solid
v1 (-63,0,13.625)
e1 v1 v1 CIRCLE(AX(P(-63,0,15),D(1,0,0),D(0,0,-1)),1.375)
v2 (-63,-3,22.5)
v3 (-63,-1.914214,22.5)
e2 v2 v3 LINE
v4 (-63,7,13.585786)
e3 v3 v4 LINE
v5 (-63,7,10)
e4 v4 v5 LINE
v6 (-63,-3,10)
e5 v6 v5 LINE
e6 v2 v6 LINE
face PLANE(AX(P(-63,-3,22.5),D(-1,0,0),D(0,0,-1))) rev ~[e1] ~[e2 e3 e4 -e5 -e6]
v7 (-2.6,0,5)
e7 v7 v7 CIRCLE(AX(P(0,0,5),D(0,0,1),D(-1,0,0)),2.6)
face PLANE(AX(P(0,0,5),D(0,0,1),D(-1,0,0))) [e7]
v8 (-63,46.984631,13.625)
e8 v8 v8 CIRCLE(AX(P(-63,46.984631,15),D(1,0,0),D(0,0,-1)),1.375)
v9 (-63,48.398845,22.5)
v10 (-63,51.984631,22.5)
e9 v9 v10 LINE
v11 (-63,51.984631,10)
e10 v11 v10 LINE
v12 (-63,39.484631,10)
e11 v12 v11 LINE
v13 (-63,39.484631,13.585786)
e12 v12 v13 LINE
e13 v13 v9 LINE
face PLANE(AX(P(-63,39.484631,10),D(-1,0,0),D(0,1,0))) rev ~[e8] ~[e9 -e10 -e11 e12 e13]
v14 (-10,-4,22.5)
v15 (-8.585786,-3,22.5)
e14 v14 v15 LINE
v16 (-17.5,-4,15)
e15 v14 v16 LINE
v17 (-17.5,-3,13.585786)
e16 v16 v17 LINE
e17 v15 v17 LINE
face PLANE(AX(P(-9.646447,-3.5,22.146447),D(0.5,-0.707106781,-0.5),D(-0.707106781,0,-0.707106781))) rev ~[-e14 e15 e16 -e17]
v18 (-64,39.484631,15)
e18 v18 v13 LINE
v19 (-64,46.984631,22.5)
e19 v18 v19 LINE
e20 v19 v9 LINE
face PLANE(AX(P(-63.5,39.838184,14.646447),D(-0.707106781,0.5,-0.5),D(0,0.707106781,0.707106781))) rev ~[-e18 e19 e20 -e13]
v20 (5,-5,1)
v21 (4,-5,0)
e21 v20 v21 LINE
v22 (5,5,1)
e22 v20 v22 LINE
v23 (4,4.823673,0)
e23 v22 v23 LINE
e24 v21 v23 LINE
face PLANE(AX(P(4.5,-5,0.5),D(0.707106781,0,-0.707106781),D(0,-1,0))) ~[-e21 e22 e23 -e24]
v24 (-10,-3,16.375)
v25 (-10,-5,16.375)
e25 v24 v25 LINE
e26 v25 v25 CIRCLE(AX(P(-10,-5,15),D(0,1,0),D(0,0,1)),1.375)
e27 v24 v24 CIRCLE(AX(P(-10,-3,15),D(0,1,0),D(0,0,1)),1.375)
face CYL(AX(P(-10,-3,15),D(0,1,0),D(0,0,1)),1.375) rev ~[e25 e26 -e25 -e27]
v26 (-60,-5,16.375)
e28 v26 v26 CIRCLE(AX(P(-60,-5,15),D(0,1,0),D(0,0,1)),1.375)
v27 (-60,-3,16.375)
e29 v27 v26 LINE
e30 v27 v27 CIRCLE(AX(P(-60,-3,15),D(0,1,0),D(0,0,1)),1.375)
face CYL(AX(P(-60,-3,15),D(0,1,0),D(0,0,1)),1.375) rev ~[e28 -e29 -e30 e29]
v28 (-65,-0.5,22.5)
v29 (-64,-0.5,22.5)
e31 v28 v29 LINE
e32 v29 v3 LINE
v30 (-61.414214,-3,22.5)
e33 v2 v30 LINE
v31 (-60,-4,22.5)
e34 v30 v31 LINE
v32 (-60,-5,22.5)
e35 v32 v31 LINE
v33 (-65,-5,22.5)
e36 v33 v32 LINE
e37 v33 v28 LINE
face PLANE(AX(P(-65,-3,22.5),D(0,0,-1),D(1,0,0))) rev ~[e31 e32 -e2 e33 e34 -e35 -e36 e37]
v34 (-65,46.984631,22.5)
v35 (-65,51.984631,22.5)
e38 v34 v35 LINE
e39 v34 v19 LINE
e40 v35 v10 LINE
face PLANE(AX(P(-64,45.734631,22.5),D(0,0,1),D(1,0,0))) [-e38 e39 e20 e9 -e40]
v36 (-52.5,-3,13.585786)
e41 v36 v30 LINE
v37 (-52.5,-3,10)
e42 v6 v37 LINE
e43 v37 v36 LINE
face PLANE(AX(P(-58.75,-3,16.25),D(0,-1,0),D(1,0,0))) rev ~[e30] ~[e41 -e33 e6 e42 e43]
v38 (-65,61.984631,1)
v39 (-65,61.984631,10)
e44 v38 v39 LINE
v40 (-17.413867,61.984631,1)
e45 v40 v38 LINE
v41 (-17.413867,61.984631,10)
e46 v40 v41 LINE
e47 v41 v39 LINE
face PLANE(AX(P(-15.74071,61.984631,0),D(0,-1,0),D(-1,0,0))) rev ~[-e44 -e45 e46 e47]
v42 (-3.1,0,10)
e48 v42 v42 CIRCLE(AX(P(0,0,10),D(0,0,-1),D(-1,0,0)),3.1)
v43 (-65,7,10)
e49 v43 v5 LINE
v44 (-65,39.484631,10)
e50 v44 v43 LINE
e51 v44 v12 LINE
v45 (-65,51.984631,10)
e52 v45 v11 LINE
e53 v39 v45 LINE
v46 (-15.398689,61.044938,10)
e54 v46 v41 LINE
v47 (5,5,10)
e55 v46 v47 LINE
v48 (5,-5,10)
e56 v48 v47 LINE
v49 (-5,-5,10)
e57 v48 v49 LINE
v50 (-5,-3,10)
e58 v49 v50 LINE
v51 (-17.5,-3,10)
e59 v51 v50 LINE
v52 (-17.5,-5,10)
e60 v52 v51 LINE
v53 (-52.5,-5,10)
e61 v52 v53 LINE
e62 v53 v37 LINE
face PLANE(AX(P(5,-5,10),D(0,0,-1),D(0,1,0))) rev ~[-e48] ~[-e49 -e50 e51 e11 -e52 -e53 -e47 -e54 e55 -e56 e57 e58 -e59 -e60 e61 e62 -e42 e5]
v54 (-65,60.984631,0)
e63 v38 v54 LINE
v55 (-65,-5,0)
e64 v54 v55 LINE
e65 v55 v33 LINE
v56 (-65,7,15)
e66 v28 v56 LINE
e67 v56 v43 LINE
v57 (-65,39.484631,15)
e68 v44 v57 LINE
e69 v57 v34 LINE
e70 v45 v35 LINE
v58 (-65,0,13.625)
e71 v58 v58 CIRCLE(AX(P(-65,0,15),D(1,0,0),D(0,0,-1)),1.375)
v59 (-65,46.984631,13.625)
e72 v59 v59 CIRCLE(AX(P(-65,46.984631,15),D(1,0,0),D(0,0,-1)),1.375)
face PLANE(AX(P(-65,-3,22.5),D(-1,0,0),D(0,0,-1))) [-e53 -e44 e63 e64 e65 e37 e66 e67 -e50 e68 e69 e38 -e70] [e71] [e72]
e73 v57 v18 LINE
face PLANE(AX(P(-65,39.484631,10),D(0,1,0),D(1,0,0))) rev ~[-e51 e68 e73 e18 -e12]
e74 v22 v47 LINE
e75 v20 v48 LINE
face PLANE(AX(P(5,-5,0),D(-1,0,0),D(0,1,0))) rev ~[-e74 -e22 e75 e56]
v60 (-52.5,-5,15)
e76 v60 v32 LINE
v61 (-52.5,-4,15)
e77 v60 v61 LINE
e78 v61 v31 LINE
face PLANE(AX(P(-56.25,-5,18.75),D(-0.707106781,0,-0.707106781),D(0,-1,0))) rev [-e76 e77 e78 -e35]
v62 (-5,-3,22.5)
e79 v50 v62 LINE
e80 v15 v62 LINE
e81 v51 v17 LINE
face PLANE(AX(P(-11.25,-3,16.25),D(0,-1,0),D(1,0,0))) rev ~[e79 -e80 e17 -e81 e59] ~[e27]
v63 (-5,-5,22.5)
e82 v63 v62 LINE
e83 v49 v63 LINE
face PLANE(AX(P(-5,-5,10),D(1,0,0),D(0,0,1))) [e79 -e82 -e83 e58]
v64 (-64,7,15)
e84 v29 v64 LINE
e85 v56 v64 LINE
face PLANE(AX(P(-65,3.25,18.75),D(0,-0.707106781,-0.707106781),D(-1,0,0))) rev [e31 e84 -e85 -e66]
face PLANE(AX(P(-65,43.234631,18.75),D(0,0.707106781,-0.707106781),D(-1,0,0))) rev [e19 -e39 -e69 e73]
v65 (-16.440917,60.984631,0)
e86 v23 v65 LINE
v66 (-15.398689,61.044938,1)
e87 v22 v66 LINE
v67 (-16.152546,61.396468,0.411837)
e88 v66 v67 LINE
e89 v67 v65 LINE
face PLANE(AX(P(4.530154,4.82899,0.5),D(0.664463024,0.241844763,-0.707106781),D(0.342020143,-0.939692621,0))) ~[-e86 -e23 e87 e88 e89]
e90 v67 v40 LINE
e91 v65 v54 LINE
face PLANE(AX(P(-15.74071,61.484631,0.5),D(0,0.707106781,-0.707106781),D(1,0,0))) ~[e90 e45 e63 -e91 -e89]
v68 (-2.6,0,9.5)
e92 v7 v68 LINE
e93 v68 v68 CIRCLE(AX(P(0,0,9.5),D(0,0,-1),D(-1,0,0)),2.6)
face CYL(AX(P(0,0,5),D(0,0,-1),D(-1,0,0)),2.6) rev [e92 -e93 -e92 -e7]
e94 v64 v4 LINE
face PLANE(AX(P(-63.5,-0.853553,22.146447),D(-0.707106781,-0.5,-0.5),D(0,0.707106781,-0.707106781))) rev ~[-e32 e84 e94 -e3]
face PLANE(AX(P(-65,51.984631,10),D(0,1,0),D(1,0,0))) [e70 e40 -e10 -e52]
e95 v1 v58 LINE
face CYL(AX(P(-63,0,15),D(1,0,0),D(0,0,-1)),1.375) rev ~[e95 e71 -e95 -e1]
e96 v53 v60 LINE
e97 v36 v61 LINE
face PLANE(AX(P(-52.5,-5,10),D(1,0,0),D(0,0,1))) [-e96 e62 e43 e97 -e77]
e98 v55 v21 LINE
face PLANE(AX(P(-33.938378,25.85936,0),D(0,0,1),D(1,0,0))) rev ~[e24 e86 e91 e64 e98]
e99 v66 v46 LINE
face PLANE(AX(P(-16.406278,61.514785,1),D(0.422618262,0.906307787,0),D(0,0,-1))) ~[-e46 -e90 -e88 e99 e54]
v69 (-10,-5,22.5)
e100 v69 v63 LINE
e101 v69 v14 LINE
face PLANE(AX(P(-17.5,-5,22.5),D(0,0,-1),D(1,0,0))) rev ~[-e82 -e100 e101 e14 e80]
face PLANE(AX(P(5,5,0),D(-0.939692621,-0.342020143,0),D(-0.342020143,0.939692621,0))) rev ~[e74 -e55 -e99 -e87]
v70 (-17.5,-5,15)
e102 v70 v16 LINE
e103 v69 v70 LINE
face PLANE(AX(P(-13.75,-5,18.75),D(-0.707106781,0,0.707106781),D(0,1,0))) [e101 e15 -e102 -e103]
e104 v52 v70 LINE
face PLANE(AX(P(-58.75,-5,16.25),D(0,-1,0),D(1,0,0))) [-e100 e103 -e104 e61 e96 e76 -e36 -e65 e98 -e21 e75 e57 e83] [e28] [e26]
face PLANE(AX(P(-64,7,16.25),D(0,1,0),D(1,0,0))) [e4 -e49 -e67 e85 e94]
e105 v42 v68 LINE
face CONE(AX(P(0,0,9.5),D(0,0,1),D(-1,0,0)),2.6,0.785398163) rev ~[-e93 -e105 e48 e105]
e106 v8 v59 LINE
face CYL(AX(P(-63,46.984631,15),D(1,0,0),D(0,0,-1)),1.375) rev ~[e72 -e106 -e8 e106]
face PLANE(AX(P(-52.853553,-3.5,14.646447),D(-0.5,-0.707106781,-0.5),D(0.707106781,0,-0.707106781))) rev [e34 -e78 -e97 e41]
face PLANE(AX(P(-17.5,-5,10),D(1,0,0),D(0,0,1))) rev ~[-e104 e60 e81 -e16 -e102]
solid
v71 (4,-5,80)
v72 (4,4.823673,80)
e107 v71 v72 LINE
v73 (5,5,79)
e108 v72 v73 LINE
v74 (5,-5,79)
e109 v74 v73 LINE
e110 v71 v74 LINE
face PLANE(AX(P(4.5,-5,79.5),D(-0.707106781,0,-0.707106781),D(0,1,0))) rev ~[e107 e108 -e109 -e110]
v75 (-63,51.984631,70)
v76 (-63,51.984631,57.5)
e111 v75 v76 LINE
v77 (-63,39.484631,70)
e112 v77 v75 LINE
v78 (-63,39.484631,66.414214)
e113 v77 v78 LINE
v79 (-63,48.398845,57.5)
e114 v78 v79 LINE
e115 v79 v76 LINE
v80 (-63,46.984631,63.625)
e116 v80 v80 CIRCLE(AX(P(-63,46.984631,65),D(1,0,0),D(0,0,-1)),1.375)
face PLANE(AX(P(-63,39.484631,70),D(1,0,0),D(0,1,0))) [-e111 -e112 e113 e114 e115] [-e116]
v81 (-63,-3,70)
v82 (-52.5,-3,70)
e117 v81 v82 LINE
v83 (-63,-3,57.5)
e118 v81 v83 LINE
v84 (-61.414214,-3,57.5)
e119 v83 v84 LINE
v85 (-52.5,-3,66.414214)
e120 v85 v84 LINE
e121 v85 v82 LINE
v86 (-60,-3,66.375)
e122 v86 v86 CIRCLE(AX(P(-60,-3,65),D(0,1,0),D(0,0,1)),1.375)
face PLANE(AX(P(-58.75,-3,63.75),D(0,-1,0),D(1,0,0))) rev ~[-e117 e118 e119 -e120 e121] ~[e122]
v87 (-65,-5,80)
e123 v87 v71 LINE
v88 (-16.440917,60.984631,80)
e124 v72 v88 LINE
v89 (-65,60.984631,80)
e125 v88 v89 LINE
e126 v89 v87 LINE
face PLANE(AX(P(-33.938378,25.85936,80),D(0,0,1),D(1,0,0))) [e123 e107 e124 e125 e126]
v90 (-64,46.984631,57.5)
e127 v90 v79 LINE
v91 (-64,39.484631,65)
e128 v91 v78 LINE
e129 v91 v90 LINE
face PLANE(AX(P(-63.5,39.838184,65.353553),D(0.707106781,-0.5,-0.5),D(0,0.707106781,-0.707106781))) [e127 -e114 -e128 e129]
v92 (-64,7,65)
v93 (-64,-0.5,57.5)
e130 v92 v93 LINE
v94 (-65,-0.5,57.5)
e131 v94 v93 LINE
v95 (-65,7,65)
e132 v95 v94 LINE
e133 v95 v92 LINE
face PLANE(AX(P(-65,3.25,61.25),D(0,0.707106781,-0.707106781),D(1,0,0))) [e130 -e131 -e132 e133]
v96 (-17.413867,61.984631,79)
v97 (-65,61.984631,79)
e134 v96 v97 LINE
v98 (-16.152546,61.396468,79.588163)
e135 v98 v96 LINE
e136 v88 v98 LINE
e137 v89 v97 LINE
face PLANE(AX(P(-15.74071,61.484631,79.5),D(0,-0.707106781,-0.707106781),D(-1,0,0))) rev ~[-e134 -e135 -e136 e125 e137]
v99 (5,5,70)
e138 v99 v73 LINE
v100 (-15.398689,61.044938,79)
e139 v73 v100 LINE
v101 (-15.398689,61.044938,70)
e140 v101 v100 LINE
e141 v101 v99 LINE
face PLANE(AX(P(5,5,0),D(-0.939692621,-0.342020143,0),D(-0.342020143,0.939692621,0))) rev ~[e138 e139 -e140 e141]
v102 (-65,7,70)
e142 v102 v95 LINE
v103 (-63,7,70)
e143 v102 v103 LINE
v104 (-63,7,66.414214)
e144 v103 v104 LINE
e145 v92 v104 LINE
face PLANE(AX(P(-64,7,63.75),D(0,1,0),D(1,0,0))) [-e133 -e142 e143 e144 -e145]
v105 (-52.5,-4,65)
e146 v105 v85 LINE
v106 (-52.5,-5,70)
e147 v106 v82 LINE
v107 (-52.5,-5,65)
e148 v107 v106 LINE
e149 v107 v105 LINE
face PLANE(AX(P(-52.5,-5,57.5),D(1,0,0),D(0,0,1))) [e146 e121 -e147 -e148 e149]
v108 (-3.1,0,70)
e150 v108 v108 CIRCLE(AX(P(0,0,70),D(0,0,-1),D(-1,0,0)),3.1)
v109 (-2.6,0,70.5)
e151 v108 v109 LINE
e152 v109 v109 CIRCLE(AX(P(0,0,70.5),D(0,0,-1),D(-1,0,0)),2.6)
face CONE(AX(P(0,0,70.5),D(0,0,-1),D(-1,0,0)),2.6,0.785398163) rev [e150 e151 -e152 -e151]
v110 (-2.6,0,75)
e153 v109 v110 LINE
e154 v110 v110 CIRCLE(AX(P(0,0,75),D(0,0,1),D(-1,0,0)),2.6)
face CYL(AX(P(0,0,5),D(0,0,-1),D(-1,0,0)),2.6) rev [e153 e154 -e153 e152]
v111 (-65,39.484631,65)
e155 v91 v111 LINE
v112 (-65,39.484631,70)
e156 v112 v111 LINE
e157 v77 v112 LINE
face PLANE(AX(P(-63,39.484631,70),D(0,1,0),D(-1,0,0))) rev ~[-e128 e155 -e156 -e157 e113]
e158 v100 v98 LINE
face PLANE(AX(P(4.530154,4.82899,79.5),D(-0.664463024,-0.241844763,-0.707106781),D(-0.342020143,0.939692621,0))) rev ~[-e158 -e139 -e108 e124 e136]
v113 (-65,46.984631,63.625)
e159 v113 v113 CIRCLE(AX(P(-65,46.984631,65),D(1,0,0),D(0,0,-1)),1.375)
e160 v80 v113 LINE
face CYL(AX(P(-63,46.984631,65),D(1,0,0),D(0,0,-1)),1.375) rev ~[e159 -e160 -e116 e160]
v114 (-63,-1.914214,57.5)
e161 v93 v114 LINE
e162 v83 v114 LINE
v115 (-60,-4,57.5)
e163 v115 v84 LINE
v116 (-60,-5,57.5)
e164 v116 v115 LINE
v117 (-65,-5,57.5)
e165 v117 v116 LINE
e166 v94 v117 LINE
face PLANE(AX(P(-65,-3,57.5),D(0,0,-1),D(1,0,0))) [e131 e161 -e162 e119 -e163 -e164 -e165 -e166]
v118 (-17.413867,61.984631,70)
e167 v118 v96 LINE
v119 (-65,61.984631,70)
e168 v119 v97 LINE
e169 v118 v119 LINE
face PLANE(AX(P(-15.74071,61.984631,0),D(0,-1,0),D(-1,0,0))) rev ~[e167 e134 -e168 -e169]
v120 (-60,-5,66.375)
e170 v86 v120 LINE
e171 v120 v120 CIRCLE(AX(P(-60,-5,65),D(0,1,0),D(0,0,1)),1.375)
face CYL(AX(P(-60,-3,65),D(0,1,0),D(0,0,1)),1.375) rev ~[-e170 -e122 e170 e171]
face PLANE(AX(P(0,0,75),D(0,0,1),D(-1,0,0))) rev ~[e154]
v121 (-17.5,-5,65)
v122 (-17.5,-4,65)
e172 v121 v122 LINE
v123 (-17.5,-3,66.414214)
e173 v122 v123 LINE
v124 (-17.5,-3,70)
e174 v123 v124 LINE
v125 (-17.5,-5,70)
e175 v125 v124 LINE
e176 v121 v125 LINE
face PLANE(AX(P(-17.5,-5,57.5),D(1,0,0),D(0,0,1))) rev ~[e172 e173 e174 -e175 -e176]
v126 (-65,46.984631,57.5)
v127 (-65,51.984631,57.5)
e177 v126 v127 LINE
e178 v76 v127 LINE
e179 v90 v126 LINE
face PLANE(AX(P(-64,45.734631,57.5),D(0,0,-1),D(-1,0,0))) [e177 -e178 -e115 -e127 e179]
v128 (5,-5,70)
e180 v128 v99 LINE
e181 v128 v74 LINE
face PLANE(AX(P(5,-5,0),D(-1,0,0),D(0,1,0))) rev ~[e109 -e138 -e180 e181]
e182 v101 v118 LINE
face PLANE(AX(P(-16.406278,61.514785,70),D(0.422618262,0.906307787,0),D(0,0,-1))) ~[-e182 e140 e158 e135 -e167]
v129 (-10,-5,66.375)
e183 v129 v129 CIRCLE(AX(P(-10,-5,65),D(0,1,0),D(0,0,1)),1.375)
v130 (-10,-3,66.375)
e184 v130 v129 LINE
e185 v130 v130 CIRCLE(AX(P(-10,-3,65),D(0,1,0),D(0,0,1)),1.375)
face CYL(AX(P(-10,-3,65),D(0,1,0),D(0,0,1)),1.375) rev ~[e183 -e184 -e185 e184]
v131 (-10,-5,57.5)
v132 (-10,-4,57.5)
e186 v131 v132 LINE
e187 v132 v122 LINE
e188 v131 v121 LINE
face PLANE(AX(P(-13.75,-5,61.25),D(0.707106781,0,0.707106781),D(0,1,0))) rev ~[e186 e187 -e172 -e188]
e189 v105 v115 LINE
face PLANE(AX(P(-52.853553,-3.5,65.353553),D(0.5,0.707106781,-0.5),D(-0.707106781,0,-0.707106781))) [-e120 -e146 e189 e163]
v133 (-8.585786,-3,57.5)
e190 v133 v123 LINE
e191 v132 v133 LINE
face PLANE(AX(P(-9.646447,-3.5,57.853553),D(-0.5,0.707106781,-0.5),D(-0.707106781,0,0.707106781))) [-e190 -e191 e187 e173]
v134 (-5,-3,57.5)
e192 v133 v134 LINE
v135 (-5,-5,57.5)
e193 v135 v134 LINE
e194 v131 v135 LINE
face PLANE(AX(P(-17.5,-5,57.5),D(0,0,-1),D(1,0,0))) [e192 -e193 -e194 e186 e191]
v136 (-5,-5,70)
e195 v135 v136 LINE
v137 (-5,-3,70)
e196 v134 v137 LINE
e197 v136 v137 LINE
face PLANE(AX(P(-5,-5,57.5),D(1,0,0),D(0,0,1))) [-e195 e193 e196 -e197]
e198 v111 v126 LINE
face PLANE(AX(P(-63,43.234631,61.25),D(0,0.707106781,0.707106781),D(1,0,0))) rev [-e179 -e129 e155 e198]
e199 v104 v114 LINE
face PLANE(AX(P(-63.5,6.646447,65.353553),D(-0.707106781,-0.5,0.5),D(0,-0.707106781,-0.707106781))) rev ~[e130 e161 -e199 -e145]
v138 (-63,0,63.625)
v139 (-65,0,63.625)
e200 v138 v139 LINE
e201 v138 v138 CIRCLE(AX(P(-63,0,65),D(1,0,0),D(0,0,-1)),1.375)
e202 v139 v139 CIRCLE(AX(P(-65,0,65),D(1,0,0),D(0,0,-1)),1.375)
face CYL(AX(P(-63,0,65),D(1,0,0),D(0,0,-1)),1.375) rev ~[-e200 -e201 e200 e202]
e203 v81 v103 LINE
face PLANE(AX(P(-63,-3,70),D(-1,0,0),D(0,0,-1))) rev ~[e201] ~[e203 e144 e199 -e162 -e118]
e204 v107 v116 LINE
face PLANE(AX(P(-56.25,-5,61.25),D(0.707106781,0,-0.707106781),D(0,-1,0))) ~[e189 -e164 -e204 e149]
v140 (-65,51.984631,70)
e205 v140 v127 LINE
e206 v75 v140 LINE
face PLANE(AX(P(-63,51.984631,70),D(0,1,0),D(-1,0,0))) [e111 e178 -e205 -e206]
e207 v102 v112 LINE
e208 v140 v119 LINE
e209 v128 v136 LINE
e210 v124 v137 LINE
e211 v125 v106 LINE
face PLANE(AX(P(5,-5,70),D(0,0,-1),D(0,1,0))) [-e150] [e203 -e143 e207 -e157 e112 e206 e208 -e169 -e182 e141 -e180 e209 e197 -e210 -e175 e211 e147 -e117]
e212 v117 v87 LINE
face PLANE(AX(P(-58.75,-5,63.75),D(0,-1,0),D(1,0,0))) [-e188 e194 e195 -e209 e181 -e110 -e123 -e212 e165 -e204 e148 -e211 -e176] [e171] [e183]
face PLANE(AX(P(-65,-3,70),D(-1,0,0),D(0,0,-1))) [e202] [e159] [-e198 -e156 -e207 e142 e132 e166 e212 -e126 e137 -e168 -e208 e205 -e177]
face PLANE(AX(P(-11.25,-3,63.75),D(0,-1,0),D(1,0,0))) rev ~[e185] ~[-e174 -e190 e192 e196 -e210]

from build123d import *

# Parameters (mm, degrees)
BOSS_EXTRUDE1_DEPTH     = 80
CUT_EXTRUDE3_REACH      = 125.053
SKETCH2_W               = 60
SKETCH2_H               = 56.984631039
SKETCH2_H_2             = 10
CUT_EXTRUDE4_DEPTH      = 65
CUT_EXTRUDE4_DEPTH_BACK = 5
SKETCH4_R               = 2.6
SKETCH6_W               = 12.5
SKETCH6_H               = 12.5
BOSS_EXTRUDE2_DEPTH     = 2
CHAMFER1_SIZE           = 7.5
CHAMFER2_SIZE           = 7.5
SKETCH7_R               = 1.375
CUT_EXTRUDE5_DEPTH      = 2
CHAMFER3_SIZE           = 1
CHAMFER4_SIZE           = 1
CHAMFER5_SIZE           = 1
CHAMFER6_SIZE           = 1
CHAMFER7_SIZE           = 0.5
CHAMFER8_SIZE           = 0.5
CHAMFER9_SIZE           = 1
CHAMFER9_SIZE2          = 1.673157185
CHAMFER10_SIZE          = 1
CHAMFER10_SIZE2         = 1.673157185
SKETCH9_W               = 2
SKETCH9_H               = 12.5
BOSS_EXTRUDE3_DEPTH     = 10
CHAMFER11_SIZE          = 7.5
CHAMFER12_SIZE          = 7.5
CHAMFER13_SIZE          = 1
CHAMFER14_SIZE          = 1
SKETCH11_W              = 2
SKETCH11_H              = 12.5
BOSS_EXTRUDE4_DEPTH     = 12.5
SKETCH12_W              = 2
SKETCH12_H              = 12.5
BOSS_EXTRUDE5_DEPTH     = 12.5
CHAMFER15_SIZE          = 7.5
CHAMFER16_SIZE          = 7.5
CHAMFER17_SIZE          = 1
CHAMFER18_SIZE          = 1
SKETCH10_R              = 1.375
CUT_EXTRUDE6_DEPTH      = 2


with BuildPart() as part:
    # Sketch1 → Boss-Extrude1 (new body)
    with BuildSketch(Plane.XY):
        Polygon((-64.999999996, -5), (5, -5), (5, 5), (-15.740709509, 61.984631039), (-64.999999996, 61.984631039), align=None)
    extrude(amount=BOSS_EXTRUDE1_DEPTH)

    # Cut-Extrude3: up to this face of the body (flat: up to its plane)
    cut_extrude3_end = Plane(part.part.faces().sort_by_distance((-64.999999996, 28.49231552, 40))[0])
    # Sketch2 → Cut-Extrude3 (cut, up to the picked face)
    with BuildSketch(Plane(origin=(5, 0, 0), x_dir=(0, 0, -1), z_dir=(1, 0, 0)), mode=Mode.PRIVATE) as cut_extrude3_sk1:
        with Locations((-40, 33.49231552)):
            Rectangle(SKETCH2_W, SKETCH2_H)
    cut_extrude3_tool1 = split(extrude(cut_extrude3_sk1.sketch, amount=-CUT_EXTRUDE3_REACH, mode=Mode.PRIVATE), bisect_by=cut_extrude3_end, keep=Keep.BOTH, mode=Mode.PRIVATE)
    # Sketch2 → Cut-Extrude3 (cut, up to the picked face)
    with BuildSketch(Plane(origin=(5, 0, 0), x_dir=(0, 0, -1), z_dir=(1, 0, 0)), mode=Mode.PRIVATE) as cut_extrude3_sk2:
        with Locations((-40, 0)):
            Rectangle(SKETCH2_W, SKETCH2_H_2)
    cut_extrude3_tool2 = split(extrude(cut_extrude3_sk2.sketch, amount=-CUT_EXTRUDE3_REACH, mode=Mode.PRIVATE), bisect_by=cut_extrude3_end, keep=Keep.BOTH, mode=Mode.PRIVATE)
    add(cut_extrude3_tool1.solids().sort_by(Axis((5, 33.492316, 40), (-1, 0, 0)))[0], mode=Mode.SUBTRACT)
    add(cut_extrude3_tool2.solids().sort_by(Axis((5, 0, 40), (-1, 0, 0)))[0], mode=Mode.SUBTRACT)


with BuildPart() as cut_extrude3_piece_1:
    # of the separate pieces the step leaves, piece 1, a body of its own (cut_extrude3_pieces)
    add(part.part.solids().sort_by_distance((-15.740709509, 61.984631039, 0))[0])


with BuildPart() as cut_extrude3_piece_2:
    # of the separate pieces the step leaves, piece 2, a body of its own (cut_extrude3_pieces)
    add(part.part.solids().sort_by_distance((-15.740709509, 61.984631039, 70))[0])


with BuildPart() as cut_extrude4_tool:
    # Sketch4 → Cut-Extrude4 (new, two sides: drawn at the far end of the back side and taken through both)
    with BuildSketch(Plane.XY.offset(10).offset(-CUT_EXTRUDE4_DEPTH_BACK)):
        with Locations(Location((0, 0, 0), (0, 0, 180))):
            Circle(SKETCH4_R)
    extrude(amount=CUT_EXTRUDE4_DEPTH + CUT_EXTRUDE4_DEPTH_BACK)


with BuildPart() as cut_extrude3_piece_1_1:
    add(cut_extrude3_piece_1.part)

    # Cut-Extrude4: cut by cut_extrude4_tool
    add(cut_extrude4_tool.part, mode=Mode.SUBTRACT)



with BuildPart() as cut_extrude3_piece_2_1:
    add(cut_extrude3_piece_2.part)

    # Cut-Extrude4: cut by cut_extrude4_tool
    add(cut_extrude4_tool.part, mode=Mode.SUBTRACT)


with BuildPart() as cut_extrude3_piece_1_2:
    add(cut_extrude3_piece_1_1.part)

    add(cut_extrude3_piece_2_1.part)  # Boss-Extrude2 merges Cut-Extrude3 piece 2
    # Sketch6 → Boss-Extrude2 (add)
    with BuildSketch(Plane.XZ.offset(5)):
        with Locations((-11.249999996, 63.75)):
            Rectangle(SKETCH6_W, SKETCH6_H)
        with Locations((-58.749999996, 63.75)):
            Rectangle(SKETCH6_W, SKETCH6_H)
        with Locations((-58.749999996, 16.25)):
            Rectangle(SKETCH6_W, SKETCH6_H)
        with Locations((-11.249999996, 16.25)):
            Rectangle(SKETCH6_W, SKETCH6_H)
    extrude(amount=-BOSS_EXTRUDE2_DEPTH)

    # Chamfer1
    chamfer1_edges = [cut_extrude3_piece_1_2.edges().sort_by_distance(p)[0] for p in [
        (-52.499999996, -4, 22.5),
        (-17.499999996, -4, 22.5),
    ]]
    chamfer(chamfer1_edges, length=CHAMFER1_SIZE)

    # Chamfer2
    chamfer2_edges = [cut_extrude3_piece_1_2.edges().sort_by_distance(p)[0] for p in [
        (-17.499999996, -4, 57.5),
        (-52.499999996, -4, 57.5),
    ]]
    chamfer(chamfer2_edges, length=CHAMFER2_SIZE)

    # Sketch7 → Cut-Extrude5 (cut)
    with BuildSketch(Plane(origin=(0, -3, 0), x_dir=(1, 0, 0), z_dir=(0, 1, 0))):
        with Locations(Location((-59.999999996, -15, 0), (0, 0, 270))):
            Circle(SKETCH7_R)
        with Locations(Location((-9.999999996, -15, 0), (0, 0, 270))):
            Circle(SKETCH7_R)
        with Locations(Location((-9.999999996, -65, 0), (0, 0, 270))):
            Circle(SKETCH7_R)
        with Locations(Location((-59.999999996, -65, 0), (0, 0, 270))):
            Circle(SKETCH7_R)
    extrude(amount=-CUT_EXTRUDE5_DEPTH, mode=Mode.SUBTRACT)

    # Chamfer3
    chamfer3_edges = [cut_extrude3_piece_1_2.edges().sort_by_distance(p)[0] for p in [
        (-40.370354753, 61.984631039, 0),
        (5, 0, 0),
        (-5.370354754, 33.49231552, 0),
    ]]
    chamfer(chamfer3_edges, length=CHAMFER3_SIZE)

    # Chamfer4
    chamfer4_edges = [cut_extrude3_piece_1_2.edges().sort_by_distance(p)[0] for p in [
        (5, 0, 80),
        (-5.370354754, 33.49231552, 80),
        (-40.370354753, 61.984631039, 80),
    ]]
    chamfer(chamfer4_edges, length=CHAMFER4_SIZE)

    # Chamfer5
    chamfer5_edges = [cut_extrude3_piece_1_2.edges().sort_by_distance(p)[0] for p in [
        (-13.749999996, -3, 61.25),
        (-56.249999996, -3, 61.25),
    ]]
    chamfer(chamfer5_edges, length=CHAMFER5_SIZE)

    # Chamfer6
    chamfer6_edges = [cut_extrude3_piece_1_2.edges().sort_by_distance(p)[0] for p in [
        (-13.749999996, -3, 18.75),
        (-56.249999996, -3, 18.75),
    ]]
    chamfer(chamfer6_edges, length=CHAMFER6_SIZE)

    # Chamfer7
    chamfer7_edges = [cut_extrude3_piece_1_2.edges().sort_by_distance(p)[0] for p in [
        (2.6, 0, 70),
    ]]
    chamfer(chamfer7_edges, length=CHAMFER7_SIZE)

    # Chamfer8
    chamfer8_edges = [cut_extrude3_piece_1_2.edges().sort_by_distance(p)[0] for p in [
        (2.6, 0, 10),
    ]]
    chamfer(chamfer8_edges, length=CHAMFER8_SIZE)

    # Chamfer9
    chamfer9_edges = [cut_extrude3_piece_1_2.edges().sort_by_distance(p)[0] for p in [
        (-15.740709509, 61.984631039, 74.5),
    ]]
    chamfer9_side = [cut_extrude3_piece_1_2.faces().sort_by_distance(p)[0] for p in [
        (-5.370354754, 33.49231552, 74.5),
    ]]
    chamfer(chamfer9_edges, length=CHAMFER9_SIZE, length2=CHAMFER9_SIZE2, reference=chamfer9_side[0])

    # Chamfer10
    chamfer10_edges = [cut_extrude3_piece_1_2.edges().sort_by_distance(p)[0] for p in [
        (-15.740709509, 61.984631039, 5.5),
    ]]
    chamfer10_side = [cut_extrude3_piece_1_2.faces().sort_by_distance(p)[0] for p in [
        (-5.370354754, 33.49231552, 5.5),
    ]]
    chamfer(chamfer10_edges, length=CHAMFER10_SIZE, length2=CHAMFER10_SIZE2, reference=chamfer10_side[0])

    # Sketch9 → Boss-Extrude3 (add)
    with BuildSketch(Plane(origin=(0, -3, 0), x_dir=(1, 0, 0), z_dir=(0, 1, 0))):
        with Locations((-63.999999996, -16.25)):
            Rectangle(SKETCH9_W, SKETCH9_H)
        with Locations((-63.999999996, -63.75)):
            Rectangle(SKETCH9_W, SKETCH9_H)
    extrude(amount=BOSS_EXTRUDE3_DEPTH)

    # Chamfer11
    chamfer11_edges = [cut_extrude3_piece_1_2.edges().sort_by_distance(p)[0] for p in [
        (-63.999999996, 7, 22.5),
    ]]
    chamfer(chamfer11_edges, length=CHAMFER11_SIZE)

    # Chamfer12
    chamfer12_edges = [cut_extrude3_piece_1_2.edges().sort_by_distance(p)[0] for p in [
        (-63.999999996, 7, 57.5),
    ]]
    chamfer(chamfer12_edges, length=CHAMFER12_SIZE)

    # Chamfer13
    chamfer13_edges = [cut_extrude3_piece_1_2.edges().sort_by_distance(p)[0] for p in [
        (-62.999999996, 3.25, 18.75),
    ]]
    chamfer(chamfer13_edges, length=CHAMFER13_SIZE)

    # Chamfer14
    chamfer14_edges = [cut_extrude3_piece_1_2.edges().sort_by_distance(p)[0] for p in [
        (-62.999999996, 3.25, 61.25),
    ]]
    chamfer(chamfer14_edges, length=CHAMFER14_SIZE)

    # Sketch11 → Boss-Extrude4 (add)
    with BuildSketch(Plane(origin=(0, 0, 70), x_dir=(-1, 0, 0), z_dir=(0, 0, -1))):
        with Locations((63.999999996, 45.734631039)):
            Rectangle(SKETCH11_W, SKETCH11_H)
    extrude(amount=BOSS_EXTRUDE4_DEPTH)

    # Sketch12 → Boss-Extrude5 (add)
    with BuildSketch(Plane.XY.offset(10)):
        with Locations((-63.999999996, 45.734631039)):
            Rectangle(SKETCH12_W, SKETCH12_H)
    extrude(amount=BOSS_EXTRUDE5_DEPTH)

    # Chamfer15
    chamfer15_edges = [cut_extrude3_piece_1_2.edges().sort_by_distance(p)[0] for p in [
        (-63.999999996, 39.484631039, 22.5),
    ]]
    chamfer(chamfer15_edges, length=CHAMFER15_SIZE)

    # Chamfer16
    chamfer16_edges = [cut_extrude3_piece_1_2.edges().sort_by_distance(p)[0] for p in [
        (-63.999999996, 39.484631039, 57.5),
    ]]
    chamfer(chamfer16_edges, length=CHAMFER16_SIZE)

    # Chamfer17
    chamfer17_edges = [cut_extrude3_piece_1_2.edges().sort_by_distance(p)[0] for p in [
        (-62.999999996, 43.234631039, 61.25),
    ]]
    chamfer(chamfer17_edges, length=CHAMFER17_SIZE)

    # Chamfer18
    chamfer18_edges = [cut_extrude3_piece_1_2.edges().sort_by_distance(p)[0] for p in [
        (-62.999999996, 43.234631039, 18.75),
    ]]
    chamfer(chamfer18_edges, length=CHAMFER18_SIZE)

    # Sketch10 → Cut-Extrude6 (cut)
    with BuildSketch(Plane(origin=(-62.999999996, 0, 0), x_dir=(0, 0, -1), z_dir=(1, 0, 0))):
        with Locations((-65, 0)):
            Circle(SKETCH10_R)
        with Locations((-15, 0)):
            Circle(SKETCH10_R)
        with Locations((-65, 46.984631039)):
            Circle(SKETCH10_R)
        with Locations((-15, 46.984631039)):
            Circle(SKETCH10_R)
    extrude(amount=-CUT_EXTRUDE6_DEPTH, mode=Mode.SUBTRACT)


solid = cut_extrude3_piece_1_2.part
